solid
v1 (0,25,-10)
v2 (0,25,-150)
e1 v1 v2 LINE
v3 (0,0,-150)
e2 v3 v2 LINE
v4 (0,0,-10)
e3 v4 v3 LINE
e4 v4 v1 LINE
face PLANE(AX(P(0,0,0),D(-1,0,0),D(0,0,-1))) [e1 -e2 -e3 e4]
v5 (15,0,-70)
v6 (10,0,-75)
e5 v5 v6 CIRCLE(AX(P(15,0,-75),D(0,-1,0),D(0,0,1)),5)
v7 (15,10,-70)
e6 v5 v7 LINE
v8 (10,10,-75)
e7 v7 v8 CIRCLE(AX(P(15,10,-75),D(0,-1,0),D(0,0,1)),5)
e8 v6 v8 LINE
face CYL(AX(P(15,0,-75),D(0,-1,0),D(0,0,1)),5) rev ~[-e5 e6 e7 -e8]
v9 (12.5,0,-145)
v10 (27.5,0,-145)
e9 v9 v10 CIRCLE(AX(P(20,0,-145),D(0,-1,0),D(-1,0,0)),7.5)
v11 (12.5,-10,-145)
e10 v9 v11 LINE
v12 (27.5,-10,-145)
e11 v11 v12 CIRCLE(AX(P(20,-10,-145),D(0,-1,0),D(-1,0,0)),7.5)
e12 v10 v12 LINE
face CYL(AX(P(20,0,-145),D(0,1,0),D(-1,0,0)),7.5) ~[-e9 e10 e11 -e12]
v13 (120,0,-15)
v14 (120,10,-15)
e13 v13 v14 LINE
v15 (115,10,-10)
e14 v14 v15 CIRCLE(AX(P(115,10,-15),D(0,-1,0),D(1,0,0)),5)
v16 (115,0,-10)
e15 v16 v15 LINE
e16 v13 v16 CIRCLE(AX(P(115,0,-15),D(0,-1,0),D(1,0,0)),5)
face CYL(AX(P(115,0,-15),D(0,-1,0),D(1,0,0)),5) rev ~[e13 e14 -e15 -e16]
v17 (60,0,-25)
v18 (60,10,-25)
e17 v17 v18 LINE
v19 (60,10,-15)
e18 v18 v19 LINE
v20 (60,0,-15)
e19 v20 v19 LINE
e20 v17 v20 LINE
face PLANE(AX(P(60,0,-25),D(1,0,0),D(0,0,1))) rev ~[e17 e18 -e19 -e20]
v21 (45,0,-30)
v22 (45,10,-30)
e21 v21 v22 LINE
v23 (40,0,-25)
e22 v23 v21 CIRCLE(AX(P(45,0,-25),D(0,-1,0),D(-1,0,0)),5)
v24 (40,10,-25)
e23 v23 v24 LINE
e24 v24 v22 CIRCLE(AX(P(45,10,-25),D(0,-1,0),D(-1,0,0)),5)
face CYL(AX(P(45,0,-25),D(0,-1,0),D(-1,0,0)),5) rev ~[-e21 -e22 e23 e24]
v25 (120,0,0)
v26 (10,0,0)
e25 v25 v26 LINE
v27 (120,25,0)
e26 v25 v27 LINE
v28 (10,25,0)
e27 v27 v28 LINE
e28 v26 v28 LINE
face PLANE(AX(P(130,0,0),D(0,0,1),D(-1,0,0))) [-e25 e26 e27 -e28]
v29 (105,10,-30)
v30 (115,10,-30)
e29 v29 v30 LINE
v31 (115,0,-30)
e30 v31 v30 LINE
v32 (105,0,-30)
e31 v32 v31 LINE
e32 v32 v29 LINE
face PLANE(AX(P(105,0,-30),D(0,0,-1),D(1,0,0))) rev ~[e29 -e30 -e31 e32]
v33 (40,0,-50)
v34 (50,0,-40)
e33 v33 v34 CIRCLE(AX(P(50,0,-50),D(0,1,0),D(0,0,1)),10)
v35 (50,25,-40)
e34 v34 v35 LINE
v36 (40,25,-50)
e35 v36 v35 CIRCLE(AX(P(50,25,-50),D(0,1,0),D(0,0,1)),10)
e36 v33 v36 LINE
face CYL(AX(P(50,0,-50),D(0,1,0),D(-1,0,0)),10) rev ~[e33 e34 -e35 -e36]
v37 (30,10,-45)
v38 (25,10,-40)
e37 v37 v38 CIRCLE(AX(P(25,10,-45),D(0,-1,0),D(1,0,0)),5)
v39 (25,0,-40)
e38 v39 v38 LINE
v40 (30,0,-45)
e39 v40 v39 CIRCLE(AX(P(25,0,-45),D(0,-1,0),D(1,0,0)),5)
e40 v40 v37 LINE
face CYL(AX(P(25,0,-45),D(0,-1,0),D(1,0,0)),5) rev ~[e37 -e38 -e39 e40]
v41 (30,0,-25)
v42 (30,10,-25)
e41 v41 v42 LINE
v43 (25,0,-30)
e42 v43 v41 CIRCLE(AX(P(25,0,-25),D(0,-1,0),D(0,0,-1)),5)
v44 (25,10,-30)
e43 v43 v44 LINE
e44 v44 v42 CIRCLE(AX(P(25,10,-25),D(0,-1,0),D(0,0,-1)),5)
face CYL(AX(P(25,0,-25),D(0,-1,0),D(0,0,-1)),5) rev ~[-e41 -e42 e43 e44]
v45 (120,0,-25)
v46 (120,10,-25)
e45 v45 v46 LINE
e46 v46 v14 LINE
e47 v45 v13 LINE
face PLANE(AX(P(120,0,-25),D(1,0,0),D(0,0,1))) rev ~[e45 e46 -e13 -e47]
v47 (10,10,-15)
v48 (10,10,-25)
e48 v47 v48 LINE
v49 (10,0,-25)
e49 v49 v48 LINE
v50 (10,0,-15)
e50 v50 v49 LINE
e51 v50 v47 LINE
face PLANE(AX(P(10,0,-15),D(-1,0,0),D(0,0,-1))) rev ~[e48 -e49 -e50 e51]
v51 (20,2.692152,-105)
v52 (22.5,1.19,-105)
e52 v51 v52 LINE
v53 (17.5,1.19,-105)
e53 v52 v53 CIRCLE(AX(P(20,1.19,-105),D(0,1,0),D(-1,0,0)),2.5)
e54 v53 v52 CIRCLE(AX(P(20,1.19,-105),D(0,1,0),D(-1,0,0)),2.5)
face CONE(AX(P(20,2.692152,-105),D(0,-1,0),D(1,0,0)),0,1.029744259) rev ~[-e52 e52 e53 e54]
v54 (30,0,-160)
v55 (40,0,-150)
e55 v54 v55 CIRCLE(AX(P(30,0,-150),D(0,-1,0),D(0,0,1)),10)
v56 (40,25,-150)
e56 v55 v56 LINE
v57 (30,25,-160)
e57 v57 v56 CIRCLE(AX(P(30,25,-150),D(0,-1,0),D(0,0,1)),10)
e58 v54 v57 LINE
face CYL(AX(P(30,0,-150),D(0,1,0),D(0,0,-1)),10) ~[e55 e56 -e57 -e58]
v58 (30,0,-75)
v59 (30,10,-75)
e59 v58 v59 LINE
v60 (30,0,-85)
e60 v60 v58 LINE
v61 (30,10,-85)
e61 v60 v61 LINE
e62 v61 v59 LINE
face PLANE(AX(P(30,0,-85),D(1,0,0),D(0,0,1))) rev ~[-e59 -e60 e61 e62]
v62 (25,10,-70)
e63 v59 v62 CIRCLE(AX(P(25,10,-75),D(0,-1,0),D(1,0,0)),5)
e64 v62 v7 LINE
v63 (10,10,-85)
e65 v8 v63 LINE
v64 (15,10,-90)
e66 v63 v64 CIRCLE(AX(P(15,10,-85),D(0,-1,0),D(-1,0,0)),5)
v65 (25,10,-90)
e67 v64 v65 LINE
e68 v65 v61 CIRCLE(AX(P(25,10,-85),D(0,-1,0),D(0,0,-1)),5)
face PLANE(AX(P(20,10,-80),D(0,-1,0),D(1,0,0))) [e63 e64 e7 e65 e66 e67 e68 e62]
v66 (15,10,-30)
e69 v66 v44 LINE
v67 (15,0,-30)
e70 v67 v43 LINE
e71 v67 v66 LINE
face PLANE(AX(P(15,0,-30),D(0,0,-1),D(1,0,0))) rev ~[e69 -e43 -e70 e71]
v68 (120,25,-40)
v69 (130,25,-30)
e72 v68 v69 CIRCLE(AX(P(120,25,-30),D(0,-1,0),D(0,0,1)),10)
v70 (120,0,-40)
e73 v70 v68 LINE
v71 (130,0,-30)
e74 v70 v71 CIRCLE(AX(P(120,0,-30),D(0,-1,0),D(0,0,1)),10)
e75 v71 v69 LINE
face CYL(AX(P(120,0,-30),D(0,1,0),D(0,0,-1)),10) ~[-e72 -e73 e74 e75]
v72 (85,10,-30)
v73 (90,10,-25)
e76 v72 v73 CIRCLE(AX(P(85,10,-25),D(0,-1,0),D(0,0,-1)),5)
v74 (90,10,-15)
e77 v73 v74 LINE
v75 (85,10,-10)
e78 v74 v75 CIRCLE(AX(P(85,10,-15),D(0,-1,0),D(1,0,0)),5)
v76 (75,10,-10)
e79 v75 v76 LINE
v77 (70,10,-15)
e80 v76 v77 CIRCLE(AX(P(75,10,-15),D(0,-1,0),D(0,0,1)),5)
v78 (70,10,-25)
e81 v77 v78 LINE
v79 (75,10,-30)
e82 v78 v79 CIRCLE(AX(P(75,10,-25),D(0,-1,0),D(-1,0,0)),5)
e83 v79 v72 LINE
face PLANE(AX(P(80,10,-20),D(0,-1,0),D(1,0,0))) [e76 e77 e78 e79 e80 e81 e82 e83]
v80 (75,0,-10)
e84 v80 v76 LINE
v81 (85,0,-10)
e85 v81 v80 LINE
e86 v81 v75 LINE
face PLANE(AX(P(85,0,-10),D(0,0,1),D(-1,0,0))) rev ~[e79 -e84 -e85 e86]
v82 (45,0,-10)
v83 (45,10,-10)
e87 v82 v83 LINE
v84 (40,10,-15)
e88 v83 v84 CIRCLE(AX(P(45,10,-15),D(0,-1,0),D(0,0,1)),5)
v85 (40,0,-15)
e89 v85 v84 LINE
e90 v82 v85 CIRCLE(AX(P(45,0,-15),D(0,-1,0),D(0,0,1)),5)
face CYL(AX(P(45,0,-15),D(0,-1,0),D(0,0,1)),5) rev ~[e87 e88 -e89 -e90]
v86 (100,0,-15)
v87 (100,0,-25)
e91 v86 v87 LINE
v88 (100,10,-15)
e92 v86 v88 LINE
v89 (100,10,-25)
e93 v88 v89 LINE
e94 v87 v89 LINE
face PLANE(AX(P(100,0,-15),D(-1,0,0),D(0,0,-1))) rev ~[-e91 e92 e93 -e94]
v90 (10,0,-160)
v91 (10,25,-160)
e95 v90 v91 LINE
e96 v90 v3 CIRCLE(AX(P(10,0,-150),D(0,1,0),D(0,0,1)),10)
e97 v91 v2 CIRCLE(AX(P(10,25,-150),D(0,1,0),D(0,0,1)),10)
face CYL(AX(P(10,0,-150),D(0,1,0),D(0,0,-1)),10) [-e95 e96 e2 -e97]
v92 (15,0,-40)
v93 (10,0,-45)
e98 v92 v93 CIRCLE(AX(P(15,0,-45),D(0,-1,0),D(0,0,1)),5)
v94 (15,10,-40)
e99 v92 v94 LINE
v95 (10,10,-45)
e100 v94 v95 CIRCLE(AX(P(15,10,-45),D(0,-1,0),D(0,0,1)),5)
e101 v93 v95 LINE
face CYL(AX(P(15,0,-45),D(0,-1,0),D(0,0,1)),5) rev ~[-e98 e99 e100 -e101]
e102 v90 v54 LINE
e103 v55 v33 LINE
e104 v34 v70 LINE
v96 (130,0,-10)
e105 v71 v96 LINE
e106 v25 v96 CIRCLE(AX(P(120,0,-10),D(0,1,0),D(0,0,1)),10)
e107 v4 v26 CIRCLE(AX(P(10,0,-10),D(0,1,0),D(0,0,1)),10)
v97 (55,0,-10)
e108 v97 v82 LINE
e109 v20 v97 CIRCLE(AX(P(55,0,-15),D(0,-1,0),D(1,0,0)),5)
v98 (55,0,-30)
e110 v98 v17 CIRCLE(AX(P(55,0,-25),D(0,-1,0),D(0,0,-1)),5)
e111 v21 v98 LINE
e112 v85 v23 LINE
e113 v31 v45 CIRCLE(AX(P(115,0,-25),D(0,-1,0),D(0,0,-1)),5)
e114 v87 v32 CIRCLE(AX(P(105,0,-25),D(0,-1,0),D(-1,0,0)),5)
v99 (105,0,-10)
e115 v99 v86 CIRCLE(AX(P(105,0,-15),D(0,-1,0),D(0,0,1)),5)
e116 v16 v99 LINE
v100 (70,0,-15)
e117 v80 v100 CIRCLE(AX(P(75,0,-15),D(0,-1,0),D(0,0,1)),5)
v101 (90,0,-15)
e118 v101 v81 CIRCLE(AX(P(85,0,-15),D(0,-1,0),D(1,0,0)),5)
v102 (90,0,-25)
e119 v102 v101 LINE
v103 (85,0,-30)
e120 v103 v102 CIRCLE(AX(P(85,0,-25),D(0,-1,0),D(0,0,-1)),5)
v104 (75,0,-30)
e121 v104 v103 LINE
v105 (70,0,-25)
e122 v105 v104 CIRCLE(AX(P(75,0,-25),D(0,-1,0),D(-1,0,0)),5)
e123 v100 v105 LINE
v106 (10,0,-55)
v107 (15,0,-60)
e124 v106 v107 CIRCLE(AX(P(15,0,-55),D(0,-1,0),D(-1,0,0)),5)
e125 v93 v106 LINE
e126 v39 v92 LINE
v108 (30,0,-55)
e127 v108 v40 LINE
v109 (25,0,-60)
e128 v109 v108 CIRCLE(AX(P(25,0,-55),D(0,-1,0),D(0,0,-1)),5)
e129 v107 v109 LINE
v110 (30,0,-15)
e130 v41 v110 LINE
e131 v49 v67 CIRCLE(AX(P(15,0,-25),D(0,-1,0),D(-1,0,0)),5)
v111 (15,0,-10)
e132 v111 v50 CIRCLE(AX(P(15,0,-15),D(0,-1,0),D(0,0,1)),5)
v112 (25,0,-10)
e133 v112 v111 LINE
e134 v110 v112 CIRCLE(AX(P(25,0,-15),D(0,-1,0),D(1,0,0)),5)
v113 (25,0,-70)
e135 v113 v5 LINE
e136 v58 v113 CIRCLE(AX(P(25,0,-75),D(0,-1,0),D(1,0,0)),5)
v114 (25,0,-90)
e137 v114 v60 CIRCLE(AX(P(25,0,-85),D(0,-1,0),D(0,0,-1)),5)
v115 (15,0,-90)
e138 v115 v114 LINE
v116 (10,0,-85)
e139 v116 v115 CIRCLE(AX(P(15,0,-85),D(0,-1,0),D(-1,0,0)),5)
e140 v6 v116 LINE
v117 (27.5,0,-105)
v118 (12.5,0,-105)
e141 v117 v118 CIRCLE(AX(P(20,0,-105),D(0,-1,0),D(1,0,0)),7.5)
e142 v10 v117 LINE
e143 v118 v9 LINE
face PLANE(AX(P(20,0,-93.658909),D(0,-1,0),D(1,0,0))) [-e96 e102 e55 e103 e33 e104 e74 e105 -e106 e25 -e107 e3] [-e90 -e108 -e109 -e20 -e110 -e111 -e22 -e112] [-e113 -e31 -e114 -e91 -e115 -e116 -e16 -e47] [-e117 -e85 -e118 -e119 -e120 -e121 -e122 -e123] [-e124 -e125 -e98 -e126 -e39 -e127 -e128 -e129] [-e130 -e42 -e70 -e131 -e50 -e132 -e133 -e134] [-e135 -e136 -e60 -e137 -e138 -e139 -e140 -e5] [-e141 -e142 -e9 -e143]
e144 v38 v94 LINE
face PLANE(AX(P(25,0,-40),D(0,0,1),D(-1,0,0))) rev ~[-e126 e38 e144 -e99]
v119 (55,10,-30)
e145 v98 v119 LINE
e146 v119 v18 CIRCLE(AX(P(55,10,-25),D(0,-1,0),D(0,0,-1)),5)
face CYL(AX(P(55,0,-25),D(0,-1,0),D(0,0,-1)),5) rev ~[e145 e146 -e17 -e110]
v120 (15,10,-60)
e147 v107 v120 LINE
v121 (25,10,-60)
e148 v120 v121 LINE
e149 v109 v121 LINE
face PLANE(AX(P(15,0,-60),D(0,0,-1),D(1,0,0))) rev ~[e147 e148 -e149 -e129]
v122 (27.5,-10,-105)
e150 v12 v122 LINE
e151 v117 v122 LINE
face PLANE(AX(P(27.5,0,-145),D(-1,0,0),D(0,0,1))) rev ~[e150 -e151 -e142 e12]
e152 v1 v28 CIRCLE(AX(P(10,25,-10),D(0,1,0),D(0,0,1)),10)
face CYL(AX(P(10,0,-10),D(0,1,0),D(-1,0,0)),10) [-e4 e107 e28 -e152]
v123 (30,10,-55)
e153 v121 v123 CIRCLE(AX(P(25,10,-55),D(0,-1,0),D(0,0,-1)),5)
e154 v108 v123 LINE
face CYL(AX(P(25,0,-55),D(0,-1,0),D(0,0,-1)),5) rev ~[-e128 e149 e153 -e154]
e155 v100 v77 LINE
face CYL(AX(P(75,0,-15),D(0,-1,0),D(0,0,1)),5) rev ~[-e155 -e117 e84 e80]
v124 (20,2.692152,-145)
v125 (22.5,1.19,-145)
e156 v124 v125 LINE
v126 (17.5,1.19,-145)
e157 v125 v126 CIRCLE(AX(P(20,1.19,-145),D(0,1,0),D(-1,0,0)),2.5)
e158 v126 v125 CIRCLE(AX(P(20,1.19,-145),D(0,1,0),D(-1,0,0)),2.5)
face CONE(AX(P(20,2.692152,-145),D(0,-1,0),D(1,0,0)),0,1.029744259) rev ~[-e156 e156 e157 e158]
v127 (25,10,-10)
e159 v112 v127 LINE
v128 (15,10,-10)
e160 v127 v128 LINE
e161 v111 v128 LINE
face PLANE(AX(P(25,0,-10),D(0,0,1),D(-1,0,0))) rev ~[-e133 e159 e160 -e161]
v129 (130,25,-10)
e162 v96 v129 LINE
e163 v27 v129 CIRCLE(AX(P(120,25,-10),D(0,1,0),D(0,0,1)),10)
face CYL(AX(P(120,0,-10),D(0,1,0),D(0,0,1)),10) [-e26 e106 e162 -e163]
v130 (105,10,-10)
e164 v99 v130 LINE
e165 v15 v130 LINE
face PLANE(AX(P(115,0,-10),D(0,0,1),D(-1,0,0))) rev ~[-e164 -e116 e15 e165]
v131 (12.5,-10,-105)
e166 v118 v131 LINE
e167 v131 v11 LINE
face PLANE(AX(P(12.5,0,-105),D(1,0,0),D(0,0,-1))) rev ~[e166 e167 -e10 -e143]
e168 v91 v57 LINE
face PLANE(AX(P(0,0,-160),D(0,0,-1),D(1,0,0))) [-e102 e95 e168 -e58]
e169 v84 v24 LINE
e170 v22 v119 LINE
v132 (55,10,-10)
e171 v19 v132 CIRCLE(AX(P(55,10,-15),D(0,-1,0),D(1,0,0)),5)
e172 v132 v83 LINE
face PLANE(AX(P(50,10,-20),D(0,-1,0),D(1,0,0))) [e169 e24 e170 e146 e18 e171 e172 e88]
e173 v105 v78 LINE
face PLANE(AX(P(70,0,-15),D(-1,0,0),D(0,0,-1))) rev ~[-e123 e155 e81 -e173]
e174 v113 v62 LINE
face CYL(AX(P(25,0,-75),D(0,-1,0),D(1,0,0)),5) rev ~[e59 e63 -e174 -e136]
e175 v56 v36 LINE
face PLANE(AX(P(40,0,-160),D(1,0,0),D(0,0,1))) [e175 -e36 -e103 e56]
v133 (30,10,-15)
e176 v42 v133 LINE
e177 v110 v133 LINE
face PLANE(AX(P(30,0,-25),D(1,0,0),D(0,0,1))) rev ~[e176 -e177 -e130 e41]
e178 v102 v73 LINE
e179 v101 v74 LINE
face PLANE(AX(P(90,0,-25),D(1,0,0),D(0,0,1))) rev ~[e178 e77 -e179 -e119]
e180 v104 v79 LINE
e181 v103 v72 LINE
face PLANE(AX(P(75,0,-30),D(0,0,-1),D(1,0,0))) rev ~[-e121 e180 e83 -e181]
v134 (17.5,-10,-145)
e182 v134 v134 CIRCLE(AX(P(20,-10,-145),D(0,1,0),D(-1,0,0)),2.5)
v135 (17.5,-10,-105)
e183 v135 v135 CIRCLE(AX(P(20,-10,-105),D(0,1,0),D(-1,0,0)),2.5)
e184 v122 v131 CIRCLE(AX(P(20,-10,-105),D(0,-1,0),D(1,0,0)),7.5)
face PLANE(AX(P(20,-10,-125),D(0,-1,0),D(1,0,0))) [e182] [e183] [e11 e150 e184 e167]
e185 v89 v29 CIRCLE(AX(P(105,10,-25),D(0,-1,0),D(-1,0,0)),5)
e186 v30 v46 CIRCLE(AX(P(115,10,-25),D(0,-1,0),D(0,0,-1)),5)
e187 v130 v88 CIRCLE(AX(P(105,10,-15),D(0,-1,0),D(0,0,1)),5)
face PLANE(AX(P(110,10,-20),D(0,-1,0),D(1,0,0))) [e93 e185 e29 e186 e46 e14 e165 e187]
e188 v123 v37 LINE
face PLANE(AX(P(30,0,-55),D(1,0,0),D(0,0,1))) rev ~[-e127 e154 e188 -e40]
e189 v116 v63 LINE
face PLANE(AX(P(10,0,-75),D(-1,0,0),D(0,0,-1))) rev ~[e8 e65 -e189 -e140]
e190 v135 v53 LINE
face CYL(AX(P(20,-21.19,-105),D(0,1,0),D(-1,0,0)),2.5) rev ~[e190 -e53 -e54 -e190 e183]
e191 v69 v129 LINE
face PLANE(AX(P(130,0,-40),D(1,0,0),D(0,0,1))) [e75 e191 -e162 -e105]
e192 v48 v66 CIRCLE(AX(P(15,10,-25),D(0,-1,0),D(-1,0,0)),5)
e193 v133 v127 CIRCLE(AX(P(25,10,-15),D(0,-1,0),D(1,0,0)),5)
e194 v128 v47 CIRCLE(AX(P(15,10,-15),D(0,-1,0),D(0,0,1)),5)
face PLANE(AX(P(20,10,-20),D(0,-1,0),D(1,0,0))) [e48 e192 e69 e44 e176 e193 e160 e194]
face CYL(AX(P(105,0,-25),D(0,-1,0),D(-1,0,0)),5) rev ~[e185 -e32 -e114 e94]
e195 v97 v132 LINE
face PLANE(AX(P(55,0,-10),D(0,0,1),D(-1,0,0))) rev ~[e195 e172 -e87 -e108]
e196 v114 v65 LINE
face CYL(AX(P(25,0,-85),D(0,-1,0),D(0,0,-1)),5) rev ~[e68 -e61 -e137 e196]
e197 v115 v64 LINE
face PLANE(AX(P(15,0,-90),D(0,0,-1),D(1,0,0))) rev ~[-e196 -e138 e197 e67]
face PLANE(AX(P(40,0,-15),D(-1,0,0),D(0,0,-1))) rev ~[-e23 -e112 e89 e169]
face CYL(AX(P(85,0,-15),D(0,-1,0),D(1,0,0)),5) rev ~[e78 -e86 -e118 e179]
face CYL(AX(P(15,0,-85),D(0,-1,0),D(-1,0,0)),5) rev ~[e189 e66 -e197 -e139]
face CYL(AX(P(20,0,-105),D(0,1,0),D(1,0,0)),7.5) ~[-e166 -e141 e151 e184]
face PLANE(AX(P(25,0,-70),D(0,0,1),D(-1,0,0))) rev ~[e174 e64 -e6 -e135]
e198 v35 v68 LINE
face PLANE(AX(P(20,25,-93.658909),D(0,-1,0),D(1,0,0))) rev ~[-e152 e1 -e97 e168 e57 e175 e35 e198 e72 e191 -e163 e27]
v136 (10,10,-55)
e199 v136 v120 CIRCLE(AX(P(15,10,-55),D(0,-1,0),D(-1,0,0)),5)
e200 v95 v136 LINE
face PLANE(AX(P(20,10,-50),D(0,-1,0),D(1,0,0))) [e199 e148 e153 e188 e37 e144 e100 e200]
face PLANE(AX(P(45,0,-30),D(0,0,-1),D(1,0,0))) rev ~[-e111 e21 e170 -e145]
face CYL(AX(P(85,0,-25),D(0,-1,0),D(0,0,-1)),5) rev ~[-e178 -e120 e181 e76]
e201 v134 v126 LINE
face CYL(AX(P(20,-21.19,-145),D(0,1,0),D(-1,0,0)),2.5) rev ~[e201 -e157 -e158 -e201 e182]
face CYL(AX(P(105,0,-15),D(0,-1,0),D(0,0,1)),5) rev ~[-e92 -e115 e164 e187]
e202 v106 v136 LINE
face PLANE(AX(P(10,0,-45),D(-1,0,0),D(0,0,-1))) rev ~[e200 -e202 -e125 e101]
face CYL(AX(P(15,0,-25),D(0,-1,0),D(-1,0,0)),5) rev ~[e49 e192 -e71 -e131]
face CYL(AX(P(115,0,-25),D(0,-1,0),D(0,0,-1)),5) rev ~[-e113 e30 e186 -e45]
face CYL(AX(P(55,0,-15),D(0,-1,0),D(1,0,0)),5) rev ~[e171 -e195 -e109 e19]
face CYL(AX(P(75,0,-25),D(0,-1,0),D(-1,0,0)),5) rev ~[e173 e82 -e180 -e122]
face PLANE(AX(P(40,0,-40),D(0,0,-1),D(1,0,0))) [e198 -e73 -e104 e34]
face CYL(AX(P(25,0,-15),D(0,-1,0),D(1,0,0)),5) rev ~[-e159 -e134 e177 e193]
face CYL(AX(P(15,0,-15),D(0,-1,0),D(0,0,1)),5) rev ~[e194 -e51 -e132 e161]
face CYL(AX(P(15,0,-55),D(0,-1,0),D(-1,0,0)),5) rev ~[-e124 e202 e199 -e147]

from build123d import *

# Parameters (mm, degrees)
F0_W     = 10
F0_H     = 10
F1_DEPTH = 25
F2_DEPTH = 10
F3_R     = 10
F5_DEPTH = 10
F7_D     = 5
F7_DEPTH = 11.19
F7_TIP   = 1.5021515476


with BuildPart() as f1:
    # F0 (on Front) → F1 (new body)
    with BuildSketch(Plane.XZ):
        with BuildLine():
            Line((15, -40), (0, -40))
            Line((0, -40), (0, -160))
            Line((0, -160), (40, -160))
            Line((40, -160), (40, -85))
            Line((40, -85), (40, -75))
            Line((40, -75), (40, -55))
            Line((40, -55), (40, -45))
            Line((40, -45), (40, -40))
            Line((40, -40), (25, -40))
            ThreePointArc((25, -40), (28.5355339059, -41.4644660941), (30, -45))
            Line((30, -45), (30, -55))
            ThreePointArc((30, -55), (28.5355339059, -58.5355339059), (25, -60))
            Line((25, -60), (15, -60))
            ThreePointArc((15, -60), (11.4644660941, -58.5355339059), (10, -55))
            Line((10, -55), (10, -45))
            ThreePointArc((10, -45), (11.4644660941, -41.4644660941), (15, -40))
        make_face()
        with BuildLine():
            Line((25, -90), (15, -90))
            ThreePointArc((15, -90), (11.4644660941, -88.5355339059), (10, -85))
            Line((10, -85), (10, -75))
            ThreePointArc((10, -75), (11.4644660941, -71.4644660941), (15, -70))
            Line((15, -70), (25, -70))
            ThreePointArc((25, -70), (28.5355339059, -71.4644660941), (30, -75))
            Line((30, -75), (30, -85))
            ThreePointArc((30, -85), (28.5355339059, -88.5355339059), (25, -90))
        make_face(mode=Mode.SUBTRACT)
        Polygon((40, 0), (10, 0), (10, -10), (0, -10), (0, -40), (15, -40), (25, -40), (40, -40), (40, -25), (40, -15), align=None)
        with BuildLine():
            ThreePointArc((10, -15), (11.4644660941, -11.4644660941), (15, -10))
            Line((15, -10), (25, -10))
            ThreePointArc((25, -10), (28.5355339059, -11.4644660941), (30, -15))
            Line((30, -15), (30, -25))
            ThreePointArc((30, -25), (28.5355339059, -28.5355339059), (25, -30))
            Line((25, -30), (15, -30))
            ThreePointArc((15, -30), (11.4644660941, -28.5355339059), (10, -25))
            Line((10, -25), (10, -15))
        make_face(mode=Mode.SUBTRACT)
        with Locations((5, -5)):
            Rectangle(F0_W, F0_H)
        with BuildLine():
            Line((130, 0), (40, 0))
            Line((40, 0), (40, -15))
            ThreePointArc((40, -15), (41.4644660941, -11.4644660941), (45, -10))
            Line((45, -10), (55, -10))
            ThreePointArc((55, -10), (58.5355339059, -11.4644660941), (60, -15))
            Line((60, -15), (60, -25))
            ThreePointArc((60, -25), (58.5355339059, -28.5355339059), (55, -30))
            Line((55, -30), (45, -30))
            ThreePointArc((45, -30), (41.4644660941, -28.5355339059), (40, -25))
            Line((40, -25), (40, -40))
            Line((40, -40), (45, -40))
            Line((45, -40), (55, -40))
            Line((55, -40), (75, -40))
            Line((75, -40), (85, -40))
            Line((85, -40), (105, -40))
            Line((105, -40), (115, -40))
            Line((115, -40), (130, -40))
            Line((130, -40), (130, 0))
        make_face()
        with BuildLine():
            Line((85, -30), (75, -30))
            ThreePointArc((75, -30), (71.4644660941, -28.5355339059), (70, -25))
            Line((70, -25), (70, -15))
            ThreePointArc((70, -15), (71.4644660941, -11.4644660941), (75, -10))
            Line((75, -10), (85, -10))
            ThreePointArc((85, -10), (88.5355339059, -11.4644660941), (90, -15))
            Line((90, -15), (90, -25))
            ThreePointArc((90, -25), (88.5355339059, -28.5355339059), (85, -30))
        make_face(mode=Mode.SUBTRACT)
        with BuildLine():
            Line((115, -30), (105, -30))
            ThreePointArc((105, -30), (101.4644660941, -28.5355339059), (100, -25))
            Line((100, -25), (100, -15))
            ThreePointArc((100, -15), (101.4644660941, -11.4644660941), (105, -10))
            Line((105, -10), (115, -10))
            ThreePointArc((115, -10), (118.5355339059, -11.4644660941), (120, -15))
            Line((120, -15), (120, -25))
            ThreePointArc((120, -25), (118.5355339059, -28.5355339059), (115, -30))
        make_face(mode=Mode.SUBTRACT)
        with BuildLine():
            ThreePointArc((10, -85), (11.4644660941, -88.5355339059), (15, -90))
            Line((15, -90), (25, -90))
            ThreePointArc((25, -90), (28.5355339059, -88.5355339059), (30, -85))
            Line((30, -85), (30, -75))
            ThreePointArc((30, -75), (28.5355339059, -71.4644660941), (25, -70))
            Line((25, -70), (15, -70))
            ThreePointArc((15, -70), (11.4644660941, -71.4644660941), (10, -75))
            Line((10, -75), (10, -85))
        make_face()
        with BuildLine():
            Line((25, -40), (15, -40))
            ThreePointArc((15, -40), (11.4644660941, -41.4644660941), (10, -45))
            Line((10, -45), (10, -55))
            ThreePointArc((10, -55), (11.4644660941, -58.5355339059), (15, -60))
            Line((15, -60), (25, -60))
            ThreePointArc((25, -60), (28.5355339059, -58.5355339059), (30, -55))
            Line((30, -55), (30, -45))
            ThreePointArc((30, -45), (28.5355339059, -41.4644660941), (25, -40))
        make_face()
        with BuildLine():
            Line((25, -10), (15, -10))
            ThreePointArc((15, -10), (11.4644660941, -11.4644660941), (10, -15))
            Line((10, -15), (10, -25))
            ThreePointArc((10, -25), (11.4644660941, -28.5355339059), (15, -30))
            Line((15, -30), (25, -30))
            ThreePointArc((25, -30), (28.5355339059, -28.5355339059), (30, -25))
            Line((30, -25), (30, -15))
            ThreePointArc((30, -15), (28.5355339059, -11.4644660941), (25, -10))
        make_face()
        with BuildLine():
            ThreePointArc((45, -10), (41.4644660941, -11.4644660941), (40, -15))
            Line((40, -15), (40, -25))
            ThreePointArc((40, -25), (41.4644660941, -28.5355339059), (45, -30))
            Line((45, -30), (55, -30))
            ThreePointArc((55, -30), (58.5355339059, -28.5355339059), (60, -25))
            Line((60, -25), (60, -15))
            ThreePointArc((60, -15), (58.5355339059, -11.4644660941), (55, -10))
            Line((55, -10), (45, -10))
        make_face()
        with BuildLine():
            ThreePointArc((70, -25), (71.4644660941, -28.5355339059), (75, -30))
            Line((75, -30), (85, -30))
            ThreePointArc((85, -30), (88.5355339059, -28.5355339059), (90, -25))
            Line((90, -25), (90, -15))
            ThreePointArc((90, -15), (88.5355339059, -11.4644660941), (85, -10))
            Line((85, -10), (75, -10))
            ThreePointArc((75, -10), (71.4644660941, -11.4644660941), (70, -15))
            Line((70, -15), (70, -25))
        make_face()
        with BuildLine():
            ThreePointArc((100, -25), (101.4644660941, -28.5355339059), (105, -30))
            Line((105, -30), (115, -30))
            ThreePointArc((115, -30), (118.5355339059, -28.5355339059), (120, -25))
            Line((120, -25), (120, -15))
            ThreePointArc((120, -15), (118.5355339059, -11.4644660941), (115, -10))
            Line((115, -10), (105, -10))
            ThreePointArc((105, -10), (101.4644660941, -11.4644660941), (100, -15))
            Line((100, -15), (100, -25))
        make_face()
    extrude(amount=-F1_DEPTH)

    # F0 (on Front) → F2 (cut)
    with BuildSketch(Plane.XZ):
        with BuildLine():
            Line((25, -10), (15, -10))
            ThreePointArc((15, -10), (11.4644660941, -11.4644660941), (10, -15))
            Line((10, -15), (10, -25))
            ThreePointArc((10, -25), (11.4644660941, -28.5355339059), (15, -30))
            Line((15, -30), (25, -30))
            ThreePointArc((25, -30), (28.5355339059, -28.5355339059), (30, -25))
            Line((30, -25), (30, -15))
            ThreePointArc((30, -15), (28.5355339059, -11.4644660941), (25, -10))
        make_face()
        with BuildLine():
            ThreePointArc((45, -10), (41.4644660941, -11.4644660941), (40, -15))
            Line((40, -15), (40, -25))
            ThreePointArc((40, -25), (41.4644660941, -28.5355339059), (45, -30))
            Line((45, -30), (55, -30))
            ThreePointArc((55, -30), (58.5355339059, -28.5355339059), (60, -25))
            Line((60, -25), (60, -15))
            ThreePointArc((60, -15), (58.5355339059, -11.4644660941), (55, -10))
            Line((55, -10), (45, -10))
        make_face()
        with BuildLine():
            ThreePointArc((70, -25), (71.4644660941, -28.5355339059), (75, -30))
            Line((75, -30), (85, -30))
            ThreePointArc((85, -30), (88.5355339059, -28.5355339059), (90, -25))
            Line((90, -25), (90, -15))
            ThreePointArc((90, -15), (88.5355339059, -11.4644660941), (85, -10))
            Line((85, -10), (75, -10))
            ThreePointArc((75, -10), (71.4644660941, -11.4644660941), (70, -15))
            Line((70, -15), (70, -25))
        make_face()
        with BuildLine():
            ThreePointArc((100, -25), (101.4644660941, -28.5355339059), (105, -30))
            Line((105, -30), (115, -30))
            ThreePointArc((115, -30), (118.5355339059, -28.5355339059), (120, -25))
            Line((120, -25), (120, -15))
            ThreePointArc((120, -15), (118.5355339059, -11.4644660941), (115, -10))
            Line((115, -10), (105, -10))
            ThreePointArc((105, -10), (101.4644660941, -11.4644660941), (100, -15))
            Line((100, -15), (100, -25))
        make_face()
        with BuildLine():
            Line((25, -40), (15, -40))
            ThreePointArc((15, -40), (11.4644660941, -41.4644660941), (10, -45))
            Line((10, -45), (10, -55))
            ThreePointArc((10, -55), (11.4644660941, -58.5355339059), (15, -60))
            Line((15, -60), (25, -60))
            ThreePointArc((25, -60), (28.5355339059, -58.5355339059), (30, -55))
            Line((30, -55), (30, -45))
            ThreePointArc((30, -45), (28.5355339059, -41.4644660941), (25, -40))
        make_face()
        with BuildLine():
            ThreePointArc((10, -85), (11.4644660941, -88.5355339059), (15, -90))
            Line((15, -90), (25, -90))
            ThreePointArc((25, -90), (28.5355339059, -88.5355339059), (30, -85))
            Line((30, -85), (30, -75))
            ThreePointArc((30, -75), (28.5355339059, -71.4644660941), (25, -70))
            Line((25, -70), (15, -70))
            ThreePointArc((15, -70), (11.4644660941, -71.4644660941), (10, -75))
            Line((10, -75), (10, -85))
        make_face()
    extrude(amount=-F2_DEPTH, mode=Mode.SUBTRACT)

    # F3
    f3_edges = [f1.edges().sort_by_distance(p)[0] for p in [
        (0, 12.5, -160),
        (40, 12.5, -160),
        (40, 12.5, -40),
        (130, 12.5, -40),
        (130, 12.5, 0),
        (0, 12.5, 0),
    ]]
    fillet(f3_edges, radius=F3_R)

    # F4 (on face) → F5 (join)
    with BuildSketch(Plane.XZ):
        with BuildLine():
            ThreePointArc((12.5, -145), (14.6966991411, -150.3033008589), (20, -152.5))
            ThreePointArc((20, -152.5), (25.3033008589, -150.3033008589), (27.5, -145))
            Line((27.5, -145), (27.5, -105))
            ThreePointArc((27.5, -105), (20, -97.5), (12.5, -105))
            Line((12.5, -105), (12.5, -145))
        make_face()
    extrude(amount=F5_DEPTH)

    # F7
    with Locations(Plane.XZ.offset(10)):
        with Locations((20, -105), (20, -145)):
            Hole(F7_D / 2, depth=F7_DEPTH)
            with Locations((0, 0, -(F7_DEPTH + F7_TIP / 2))):  # 118° drill point
                Cone(0, F7_D / 2, F7_TIP, mode=Mode.SUBTRACT)


solid = f1.part
